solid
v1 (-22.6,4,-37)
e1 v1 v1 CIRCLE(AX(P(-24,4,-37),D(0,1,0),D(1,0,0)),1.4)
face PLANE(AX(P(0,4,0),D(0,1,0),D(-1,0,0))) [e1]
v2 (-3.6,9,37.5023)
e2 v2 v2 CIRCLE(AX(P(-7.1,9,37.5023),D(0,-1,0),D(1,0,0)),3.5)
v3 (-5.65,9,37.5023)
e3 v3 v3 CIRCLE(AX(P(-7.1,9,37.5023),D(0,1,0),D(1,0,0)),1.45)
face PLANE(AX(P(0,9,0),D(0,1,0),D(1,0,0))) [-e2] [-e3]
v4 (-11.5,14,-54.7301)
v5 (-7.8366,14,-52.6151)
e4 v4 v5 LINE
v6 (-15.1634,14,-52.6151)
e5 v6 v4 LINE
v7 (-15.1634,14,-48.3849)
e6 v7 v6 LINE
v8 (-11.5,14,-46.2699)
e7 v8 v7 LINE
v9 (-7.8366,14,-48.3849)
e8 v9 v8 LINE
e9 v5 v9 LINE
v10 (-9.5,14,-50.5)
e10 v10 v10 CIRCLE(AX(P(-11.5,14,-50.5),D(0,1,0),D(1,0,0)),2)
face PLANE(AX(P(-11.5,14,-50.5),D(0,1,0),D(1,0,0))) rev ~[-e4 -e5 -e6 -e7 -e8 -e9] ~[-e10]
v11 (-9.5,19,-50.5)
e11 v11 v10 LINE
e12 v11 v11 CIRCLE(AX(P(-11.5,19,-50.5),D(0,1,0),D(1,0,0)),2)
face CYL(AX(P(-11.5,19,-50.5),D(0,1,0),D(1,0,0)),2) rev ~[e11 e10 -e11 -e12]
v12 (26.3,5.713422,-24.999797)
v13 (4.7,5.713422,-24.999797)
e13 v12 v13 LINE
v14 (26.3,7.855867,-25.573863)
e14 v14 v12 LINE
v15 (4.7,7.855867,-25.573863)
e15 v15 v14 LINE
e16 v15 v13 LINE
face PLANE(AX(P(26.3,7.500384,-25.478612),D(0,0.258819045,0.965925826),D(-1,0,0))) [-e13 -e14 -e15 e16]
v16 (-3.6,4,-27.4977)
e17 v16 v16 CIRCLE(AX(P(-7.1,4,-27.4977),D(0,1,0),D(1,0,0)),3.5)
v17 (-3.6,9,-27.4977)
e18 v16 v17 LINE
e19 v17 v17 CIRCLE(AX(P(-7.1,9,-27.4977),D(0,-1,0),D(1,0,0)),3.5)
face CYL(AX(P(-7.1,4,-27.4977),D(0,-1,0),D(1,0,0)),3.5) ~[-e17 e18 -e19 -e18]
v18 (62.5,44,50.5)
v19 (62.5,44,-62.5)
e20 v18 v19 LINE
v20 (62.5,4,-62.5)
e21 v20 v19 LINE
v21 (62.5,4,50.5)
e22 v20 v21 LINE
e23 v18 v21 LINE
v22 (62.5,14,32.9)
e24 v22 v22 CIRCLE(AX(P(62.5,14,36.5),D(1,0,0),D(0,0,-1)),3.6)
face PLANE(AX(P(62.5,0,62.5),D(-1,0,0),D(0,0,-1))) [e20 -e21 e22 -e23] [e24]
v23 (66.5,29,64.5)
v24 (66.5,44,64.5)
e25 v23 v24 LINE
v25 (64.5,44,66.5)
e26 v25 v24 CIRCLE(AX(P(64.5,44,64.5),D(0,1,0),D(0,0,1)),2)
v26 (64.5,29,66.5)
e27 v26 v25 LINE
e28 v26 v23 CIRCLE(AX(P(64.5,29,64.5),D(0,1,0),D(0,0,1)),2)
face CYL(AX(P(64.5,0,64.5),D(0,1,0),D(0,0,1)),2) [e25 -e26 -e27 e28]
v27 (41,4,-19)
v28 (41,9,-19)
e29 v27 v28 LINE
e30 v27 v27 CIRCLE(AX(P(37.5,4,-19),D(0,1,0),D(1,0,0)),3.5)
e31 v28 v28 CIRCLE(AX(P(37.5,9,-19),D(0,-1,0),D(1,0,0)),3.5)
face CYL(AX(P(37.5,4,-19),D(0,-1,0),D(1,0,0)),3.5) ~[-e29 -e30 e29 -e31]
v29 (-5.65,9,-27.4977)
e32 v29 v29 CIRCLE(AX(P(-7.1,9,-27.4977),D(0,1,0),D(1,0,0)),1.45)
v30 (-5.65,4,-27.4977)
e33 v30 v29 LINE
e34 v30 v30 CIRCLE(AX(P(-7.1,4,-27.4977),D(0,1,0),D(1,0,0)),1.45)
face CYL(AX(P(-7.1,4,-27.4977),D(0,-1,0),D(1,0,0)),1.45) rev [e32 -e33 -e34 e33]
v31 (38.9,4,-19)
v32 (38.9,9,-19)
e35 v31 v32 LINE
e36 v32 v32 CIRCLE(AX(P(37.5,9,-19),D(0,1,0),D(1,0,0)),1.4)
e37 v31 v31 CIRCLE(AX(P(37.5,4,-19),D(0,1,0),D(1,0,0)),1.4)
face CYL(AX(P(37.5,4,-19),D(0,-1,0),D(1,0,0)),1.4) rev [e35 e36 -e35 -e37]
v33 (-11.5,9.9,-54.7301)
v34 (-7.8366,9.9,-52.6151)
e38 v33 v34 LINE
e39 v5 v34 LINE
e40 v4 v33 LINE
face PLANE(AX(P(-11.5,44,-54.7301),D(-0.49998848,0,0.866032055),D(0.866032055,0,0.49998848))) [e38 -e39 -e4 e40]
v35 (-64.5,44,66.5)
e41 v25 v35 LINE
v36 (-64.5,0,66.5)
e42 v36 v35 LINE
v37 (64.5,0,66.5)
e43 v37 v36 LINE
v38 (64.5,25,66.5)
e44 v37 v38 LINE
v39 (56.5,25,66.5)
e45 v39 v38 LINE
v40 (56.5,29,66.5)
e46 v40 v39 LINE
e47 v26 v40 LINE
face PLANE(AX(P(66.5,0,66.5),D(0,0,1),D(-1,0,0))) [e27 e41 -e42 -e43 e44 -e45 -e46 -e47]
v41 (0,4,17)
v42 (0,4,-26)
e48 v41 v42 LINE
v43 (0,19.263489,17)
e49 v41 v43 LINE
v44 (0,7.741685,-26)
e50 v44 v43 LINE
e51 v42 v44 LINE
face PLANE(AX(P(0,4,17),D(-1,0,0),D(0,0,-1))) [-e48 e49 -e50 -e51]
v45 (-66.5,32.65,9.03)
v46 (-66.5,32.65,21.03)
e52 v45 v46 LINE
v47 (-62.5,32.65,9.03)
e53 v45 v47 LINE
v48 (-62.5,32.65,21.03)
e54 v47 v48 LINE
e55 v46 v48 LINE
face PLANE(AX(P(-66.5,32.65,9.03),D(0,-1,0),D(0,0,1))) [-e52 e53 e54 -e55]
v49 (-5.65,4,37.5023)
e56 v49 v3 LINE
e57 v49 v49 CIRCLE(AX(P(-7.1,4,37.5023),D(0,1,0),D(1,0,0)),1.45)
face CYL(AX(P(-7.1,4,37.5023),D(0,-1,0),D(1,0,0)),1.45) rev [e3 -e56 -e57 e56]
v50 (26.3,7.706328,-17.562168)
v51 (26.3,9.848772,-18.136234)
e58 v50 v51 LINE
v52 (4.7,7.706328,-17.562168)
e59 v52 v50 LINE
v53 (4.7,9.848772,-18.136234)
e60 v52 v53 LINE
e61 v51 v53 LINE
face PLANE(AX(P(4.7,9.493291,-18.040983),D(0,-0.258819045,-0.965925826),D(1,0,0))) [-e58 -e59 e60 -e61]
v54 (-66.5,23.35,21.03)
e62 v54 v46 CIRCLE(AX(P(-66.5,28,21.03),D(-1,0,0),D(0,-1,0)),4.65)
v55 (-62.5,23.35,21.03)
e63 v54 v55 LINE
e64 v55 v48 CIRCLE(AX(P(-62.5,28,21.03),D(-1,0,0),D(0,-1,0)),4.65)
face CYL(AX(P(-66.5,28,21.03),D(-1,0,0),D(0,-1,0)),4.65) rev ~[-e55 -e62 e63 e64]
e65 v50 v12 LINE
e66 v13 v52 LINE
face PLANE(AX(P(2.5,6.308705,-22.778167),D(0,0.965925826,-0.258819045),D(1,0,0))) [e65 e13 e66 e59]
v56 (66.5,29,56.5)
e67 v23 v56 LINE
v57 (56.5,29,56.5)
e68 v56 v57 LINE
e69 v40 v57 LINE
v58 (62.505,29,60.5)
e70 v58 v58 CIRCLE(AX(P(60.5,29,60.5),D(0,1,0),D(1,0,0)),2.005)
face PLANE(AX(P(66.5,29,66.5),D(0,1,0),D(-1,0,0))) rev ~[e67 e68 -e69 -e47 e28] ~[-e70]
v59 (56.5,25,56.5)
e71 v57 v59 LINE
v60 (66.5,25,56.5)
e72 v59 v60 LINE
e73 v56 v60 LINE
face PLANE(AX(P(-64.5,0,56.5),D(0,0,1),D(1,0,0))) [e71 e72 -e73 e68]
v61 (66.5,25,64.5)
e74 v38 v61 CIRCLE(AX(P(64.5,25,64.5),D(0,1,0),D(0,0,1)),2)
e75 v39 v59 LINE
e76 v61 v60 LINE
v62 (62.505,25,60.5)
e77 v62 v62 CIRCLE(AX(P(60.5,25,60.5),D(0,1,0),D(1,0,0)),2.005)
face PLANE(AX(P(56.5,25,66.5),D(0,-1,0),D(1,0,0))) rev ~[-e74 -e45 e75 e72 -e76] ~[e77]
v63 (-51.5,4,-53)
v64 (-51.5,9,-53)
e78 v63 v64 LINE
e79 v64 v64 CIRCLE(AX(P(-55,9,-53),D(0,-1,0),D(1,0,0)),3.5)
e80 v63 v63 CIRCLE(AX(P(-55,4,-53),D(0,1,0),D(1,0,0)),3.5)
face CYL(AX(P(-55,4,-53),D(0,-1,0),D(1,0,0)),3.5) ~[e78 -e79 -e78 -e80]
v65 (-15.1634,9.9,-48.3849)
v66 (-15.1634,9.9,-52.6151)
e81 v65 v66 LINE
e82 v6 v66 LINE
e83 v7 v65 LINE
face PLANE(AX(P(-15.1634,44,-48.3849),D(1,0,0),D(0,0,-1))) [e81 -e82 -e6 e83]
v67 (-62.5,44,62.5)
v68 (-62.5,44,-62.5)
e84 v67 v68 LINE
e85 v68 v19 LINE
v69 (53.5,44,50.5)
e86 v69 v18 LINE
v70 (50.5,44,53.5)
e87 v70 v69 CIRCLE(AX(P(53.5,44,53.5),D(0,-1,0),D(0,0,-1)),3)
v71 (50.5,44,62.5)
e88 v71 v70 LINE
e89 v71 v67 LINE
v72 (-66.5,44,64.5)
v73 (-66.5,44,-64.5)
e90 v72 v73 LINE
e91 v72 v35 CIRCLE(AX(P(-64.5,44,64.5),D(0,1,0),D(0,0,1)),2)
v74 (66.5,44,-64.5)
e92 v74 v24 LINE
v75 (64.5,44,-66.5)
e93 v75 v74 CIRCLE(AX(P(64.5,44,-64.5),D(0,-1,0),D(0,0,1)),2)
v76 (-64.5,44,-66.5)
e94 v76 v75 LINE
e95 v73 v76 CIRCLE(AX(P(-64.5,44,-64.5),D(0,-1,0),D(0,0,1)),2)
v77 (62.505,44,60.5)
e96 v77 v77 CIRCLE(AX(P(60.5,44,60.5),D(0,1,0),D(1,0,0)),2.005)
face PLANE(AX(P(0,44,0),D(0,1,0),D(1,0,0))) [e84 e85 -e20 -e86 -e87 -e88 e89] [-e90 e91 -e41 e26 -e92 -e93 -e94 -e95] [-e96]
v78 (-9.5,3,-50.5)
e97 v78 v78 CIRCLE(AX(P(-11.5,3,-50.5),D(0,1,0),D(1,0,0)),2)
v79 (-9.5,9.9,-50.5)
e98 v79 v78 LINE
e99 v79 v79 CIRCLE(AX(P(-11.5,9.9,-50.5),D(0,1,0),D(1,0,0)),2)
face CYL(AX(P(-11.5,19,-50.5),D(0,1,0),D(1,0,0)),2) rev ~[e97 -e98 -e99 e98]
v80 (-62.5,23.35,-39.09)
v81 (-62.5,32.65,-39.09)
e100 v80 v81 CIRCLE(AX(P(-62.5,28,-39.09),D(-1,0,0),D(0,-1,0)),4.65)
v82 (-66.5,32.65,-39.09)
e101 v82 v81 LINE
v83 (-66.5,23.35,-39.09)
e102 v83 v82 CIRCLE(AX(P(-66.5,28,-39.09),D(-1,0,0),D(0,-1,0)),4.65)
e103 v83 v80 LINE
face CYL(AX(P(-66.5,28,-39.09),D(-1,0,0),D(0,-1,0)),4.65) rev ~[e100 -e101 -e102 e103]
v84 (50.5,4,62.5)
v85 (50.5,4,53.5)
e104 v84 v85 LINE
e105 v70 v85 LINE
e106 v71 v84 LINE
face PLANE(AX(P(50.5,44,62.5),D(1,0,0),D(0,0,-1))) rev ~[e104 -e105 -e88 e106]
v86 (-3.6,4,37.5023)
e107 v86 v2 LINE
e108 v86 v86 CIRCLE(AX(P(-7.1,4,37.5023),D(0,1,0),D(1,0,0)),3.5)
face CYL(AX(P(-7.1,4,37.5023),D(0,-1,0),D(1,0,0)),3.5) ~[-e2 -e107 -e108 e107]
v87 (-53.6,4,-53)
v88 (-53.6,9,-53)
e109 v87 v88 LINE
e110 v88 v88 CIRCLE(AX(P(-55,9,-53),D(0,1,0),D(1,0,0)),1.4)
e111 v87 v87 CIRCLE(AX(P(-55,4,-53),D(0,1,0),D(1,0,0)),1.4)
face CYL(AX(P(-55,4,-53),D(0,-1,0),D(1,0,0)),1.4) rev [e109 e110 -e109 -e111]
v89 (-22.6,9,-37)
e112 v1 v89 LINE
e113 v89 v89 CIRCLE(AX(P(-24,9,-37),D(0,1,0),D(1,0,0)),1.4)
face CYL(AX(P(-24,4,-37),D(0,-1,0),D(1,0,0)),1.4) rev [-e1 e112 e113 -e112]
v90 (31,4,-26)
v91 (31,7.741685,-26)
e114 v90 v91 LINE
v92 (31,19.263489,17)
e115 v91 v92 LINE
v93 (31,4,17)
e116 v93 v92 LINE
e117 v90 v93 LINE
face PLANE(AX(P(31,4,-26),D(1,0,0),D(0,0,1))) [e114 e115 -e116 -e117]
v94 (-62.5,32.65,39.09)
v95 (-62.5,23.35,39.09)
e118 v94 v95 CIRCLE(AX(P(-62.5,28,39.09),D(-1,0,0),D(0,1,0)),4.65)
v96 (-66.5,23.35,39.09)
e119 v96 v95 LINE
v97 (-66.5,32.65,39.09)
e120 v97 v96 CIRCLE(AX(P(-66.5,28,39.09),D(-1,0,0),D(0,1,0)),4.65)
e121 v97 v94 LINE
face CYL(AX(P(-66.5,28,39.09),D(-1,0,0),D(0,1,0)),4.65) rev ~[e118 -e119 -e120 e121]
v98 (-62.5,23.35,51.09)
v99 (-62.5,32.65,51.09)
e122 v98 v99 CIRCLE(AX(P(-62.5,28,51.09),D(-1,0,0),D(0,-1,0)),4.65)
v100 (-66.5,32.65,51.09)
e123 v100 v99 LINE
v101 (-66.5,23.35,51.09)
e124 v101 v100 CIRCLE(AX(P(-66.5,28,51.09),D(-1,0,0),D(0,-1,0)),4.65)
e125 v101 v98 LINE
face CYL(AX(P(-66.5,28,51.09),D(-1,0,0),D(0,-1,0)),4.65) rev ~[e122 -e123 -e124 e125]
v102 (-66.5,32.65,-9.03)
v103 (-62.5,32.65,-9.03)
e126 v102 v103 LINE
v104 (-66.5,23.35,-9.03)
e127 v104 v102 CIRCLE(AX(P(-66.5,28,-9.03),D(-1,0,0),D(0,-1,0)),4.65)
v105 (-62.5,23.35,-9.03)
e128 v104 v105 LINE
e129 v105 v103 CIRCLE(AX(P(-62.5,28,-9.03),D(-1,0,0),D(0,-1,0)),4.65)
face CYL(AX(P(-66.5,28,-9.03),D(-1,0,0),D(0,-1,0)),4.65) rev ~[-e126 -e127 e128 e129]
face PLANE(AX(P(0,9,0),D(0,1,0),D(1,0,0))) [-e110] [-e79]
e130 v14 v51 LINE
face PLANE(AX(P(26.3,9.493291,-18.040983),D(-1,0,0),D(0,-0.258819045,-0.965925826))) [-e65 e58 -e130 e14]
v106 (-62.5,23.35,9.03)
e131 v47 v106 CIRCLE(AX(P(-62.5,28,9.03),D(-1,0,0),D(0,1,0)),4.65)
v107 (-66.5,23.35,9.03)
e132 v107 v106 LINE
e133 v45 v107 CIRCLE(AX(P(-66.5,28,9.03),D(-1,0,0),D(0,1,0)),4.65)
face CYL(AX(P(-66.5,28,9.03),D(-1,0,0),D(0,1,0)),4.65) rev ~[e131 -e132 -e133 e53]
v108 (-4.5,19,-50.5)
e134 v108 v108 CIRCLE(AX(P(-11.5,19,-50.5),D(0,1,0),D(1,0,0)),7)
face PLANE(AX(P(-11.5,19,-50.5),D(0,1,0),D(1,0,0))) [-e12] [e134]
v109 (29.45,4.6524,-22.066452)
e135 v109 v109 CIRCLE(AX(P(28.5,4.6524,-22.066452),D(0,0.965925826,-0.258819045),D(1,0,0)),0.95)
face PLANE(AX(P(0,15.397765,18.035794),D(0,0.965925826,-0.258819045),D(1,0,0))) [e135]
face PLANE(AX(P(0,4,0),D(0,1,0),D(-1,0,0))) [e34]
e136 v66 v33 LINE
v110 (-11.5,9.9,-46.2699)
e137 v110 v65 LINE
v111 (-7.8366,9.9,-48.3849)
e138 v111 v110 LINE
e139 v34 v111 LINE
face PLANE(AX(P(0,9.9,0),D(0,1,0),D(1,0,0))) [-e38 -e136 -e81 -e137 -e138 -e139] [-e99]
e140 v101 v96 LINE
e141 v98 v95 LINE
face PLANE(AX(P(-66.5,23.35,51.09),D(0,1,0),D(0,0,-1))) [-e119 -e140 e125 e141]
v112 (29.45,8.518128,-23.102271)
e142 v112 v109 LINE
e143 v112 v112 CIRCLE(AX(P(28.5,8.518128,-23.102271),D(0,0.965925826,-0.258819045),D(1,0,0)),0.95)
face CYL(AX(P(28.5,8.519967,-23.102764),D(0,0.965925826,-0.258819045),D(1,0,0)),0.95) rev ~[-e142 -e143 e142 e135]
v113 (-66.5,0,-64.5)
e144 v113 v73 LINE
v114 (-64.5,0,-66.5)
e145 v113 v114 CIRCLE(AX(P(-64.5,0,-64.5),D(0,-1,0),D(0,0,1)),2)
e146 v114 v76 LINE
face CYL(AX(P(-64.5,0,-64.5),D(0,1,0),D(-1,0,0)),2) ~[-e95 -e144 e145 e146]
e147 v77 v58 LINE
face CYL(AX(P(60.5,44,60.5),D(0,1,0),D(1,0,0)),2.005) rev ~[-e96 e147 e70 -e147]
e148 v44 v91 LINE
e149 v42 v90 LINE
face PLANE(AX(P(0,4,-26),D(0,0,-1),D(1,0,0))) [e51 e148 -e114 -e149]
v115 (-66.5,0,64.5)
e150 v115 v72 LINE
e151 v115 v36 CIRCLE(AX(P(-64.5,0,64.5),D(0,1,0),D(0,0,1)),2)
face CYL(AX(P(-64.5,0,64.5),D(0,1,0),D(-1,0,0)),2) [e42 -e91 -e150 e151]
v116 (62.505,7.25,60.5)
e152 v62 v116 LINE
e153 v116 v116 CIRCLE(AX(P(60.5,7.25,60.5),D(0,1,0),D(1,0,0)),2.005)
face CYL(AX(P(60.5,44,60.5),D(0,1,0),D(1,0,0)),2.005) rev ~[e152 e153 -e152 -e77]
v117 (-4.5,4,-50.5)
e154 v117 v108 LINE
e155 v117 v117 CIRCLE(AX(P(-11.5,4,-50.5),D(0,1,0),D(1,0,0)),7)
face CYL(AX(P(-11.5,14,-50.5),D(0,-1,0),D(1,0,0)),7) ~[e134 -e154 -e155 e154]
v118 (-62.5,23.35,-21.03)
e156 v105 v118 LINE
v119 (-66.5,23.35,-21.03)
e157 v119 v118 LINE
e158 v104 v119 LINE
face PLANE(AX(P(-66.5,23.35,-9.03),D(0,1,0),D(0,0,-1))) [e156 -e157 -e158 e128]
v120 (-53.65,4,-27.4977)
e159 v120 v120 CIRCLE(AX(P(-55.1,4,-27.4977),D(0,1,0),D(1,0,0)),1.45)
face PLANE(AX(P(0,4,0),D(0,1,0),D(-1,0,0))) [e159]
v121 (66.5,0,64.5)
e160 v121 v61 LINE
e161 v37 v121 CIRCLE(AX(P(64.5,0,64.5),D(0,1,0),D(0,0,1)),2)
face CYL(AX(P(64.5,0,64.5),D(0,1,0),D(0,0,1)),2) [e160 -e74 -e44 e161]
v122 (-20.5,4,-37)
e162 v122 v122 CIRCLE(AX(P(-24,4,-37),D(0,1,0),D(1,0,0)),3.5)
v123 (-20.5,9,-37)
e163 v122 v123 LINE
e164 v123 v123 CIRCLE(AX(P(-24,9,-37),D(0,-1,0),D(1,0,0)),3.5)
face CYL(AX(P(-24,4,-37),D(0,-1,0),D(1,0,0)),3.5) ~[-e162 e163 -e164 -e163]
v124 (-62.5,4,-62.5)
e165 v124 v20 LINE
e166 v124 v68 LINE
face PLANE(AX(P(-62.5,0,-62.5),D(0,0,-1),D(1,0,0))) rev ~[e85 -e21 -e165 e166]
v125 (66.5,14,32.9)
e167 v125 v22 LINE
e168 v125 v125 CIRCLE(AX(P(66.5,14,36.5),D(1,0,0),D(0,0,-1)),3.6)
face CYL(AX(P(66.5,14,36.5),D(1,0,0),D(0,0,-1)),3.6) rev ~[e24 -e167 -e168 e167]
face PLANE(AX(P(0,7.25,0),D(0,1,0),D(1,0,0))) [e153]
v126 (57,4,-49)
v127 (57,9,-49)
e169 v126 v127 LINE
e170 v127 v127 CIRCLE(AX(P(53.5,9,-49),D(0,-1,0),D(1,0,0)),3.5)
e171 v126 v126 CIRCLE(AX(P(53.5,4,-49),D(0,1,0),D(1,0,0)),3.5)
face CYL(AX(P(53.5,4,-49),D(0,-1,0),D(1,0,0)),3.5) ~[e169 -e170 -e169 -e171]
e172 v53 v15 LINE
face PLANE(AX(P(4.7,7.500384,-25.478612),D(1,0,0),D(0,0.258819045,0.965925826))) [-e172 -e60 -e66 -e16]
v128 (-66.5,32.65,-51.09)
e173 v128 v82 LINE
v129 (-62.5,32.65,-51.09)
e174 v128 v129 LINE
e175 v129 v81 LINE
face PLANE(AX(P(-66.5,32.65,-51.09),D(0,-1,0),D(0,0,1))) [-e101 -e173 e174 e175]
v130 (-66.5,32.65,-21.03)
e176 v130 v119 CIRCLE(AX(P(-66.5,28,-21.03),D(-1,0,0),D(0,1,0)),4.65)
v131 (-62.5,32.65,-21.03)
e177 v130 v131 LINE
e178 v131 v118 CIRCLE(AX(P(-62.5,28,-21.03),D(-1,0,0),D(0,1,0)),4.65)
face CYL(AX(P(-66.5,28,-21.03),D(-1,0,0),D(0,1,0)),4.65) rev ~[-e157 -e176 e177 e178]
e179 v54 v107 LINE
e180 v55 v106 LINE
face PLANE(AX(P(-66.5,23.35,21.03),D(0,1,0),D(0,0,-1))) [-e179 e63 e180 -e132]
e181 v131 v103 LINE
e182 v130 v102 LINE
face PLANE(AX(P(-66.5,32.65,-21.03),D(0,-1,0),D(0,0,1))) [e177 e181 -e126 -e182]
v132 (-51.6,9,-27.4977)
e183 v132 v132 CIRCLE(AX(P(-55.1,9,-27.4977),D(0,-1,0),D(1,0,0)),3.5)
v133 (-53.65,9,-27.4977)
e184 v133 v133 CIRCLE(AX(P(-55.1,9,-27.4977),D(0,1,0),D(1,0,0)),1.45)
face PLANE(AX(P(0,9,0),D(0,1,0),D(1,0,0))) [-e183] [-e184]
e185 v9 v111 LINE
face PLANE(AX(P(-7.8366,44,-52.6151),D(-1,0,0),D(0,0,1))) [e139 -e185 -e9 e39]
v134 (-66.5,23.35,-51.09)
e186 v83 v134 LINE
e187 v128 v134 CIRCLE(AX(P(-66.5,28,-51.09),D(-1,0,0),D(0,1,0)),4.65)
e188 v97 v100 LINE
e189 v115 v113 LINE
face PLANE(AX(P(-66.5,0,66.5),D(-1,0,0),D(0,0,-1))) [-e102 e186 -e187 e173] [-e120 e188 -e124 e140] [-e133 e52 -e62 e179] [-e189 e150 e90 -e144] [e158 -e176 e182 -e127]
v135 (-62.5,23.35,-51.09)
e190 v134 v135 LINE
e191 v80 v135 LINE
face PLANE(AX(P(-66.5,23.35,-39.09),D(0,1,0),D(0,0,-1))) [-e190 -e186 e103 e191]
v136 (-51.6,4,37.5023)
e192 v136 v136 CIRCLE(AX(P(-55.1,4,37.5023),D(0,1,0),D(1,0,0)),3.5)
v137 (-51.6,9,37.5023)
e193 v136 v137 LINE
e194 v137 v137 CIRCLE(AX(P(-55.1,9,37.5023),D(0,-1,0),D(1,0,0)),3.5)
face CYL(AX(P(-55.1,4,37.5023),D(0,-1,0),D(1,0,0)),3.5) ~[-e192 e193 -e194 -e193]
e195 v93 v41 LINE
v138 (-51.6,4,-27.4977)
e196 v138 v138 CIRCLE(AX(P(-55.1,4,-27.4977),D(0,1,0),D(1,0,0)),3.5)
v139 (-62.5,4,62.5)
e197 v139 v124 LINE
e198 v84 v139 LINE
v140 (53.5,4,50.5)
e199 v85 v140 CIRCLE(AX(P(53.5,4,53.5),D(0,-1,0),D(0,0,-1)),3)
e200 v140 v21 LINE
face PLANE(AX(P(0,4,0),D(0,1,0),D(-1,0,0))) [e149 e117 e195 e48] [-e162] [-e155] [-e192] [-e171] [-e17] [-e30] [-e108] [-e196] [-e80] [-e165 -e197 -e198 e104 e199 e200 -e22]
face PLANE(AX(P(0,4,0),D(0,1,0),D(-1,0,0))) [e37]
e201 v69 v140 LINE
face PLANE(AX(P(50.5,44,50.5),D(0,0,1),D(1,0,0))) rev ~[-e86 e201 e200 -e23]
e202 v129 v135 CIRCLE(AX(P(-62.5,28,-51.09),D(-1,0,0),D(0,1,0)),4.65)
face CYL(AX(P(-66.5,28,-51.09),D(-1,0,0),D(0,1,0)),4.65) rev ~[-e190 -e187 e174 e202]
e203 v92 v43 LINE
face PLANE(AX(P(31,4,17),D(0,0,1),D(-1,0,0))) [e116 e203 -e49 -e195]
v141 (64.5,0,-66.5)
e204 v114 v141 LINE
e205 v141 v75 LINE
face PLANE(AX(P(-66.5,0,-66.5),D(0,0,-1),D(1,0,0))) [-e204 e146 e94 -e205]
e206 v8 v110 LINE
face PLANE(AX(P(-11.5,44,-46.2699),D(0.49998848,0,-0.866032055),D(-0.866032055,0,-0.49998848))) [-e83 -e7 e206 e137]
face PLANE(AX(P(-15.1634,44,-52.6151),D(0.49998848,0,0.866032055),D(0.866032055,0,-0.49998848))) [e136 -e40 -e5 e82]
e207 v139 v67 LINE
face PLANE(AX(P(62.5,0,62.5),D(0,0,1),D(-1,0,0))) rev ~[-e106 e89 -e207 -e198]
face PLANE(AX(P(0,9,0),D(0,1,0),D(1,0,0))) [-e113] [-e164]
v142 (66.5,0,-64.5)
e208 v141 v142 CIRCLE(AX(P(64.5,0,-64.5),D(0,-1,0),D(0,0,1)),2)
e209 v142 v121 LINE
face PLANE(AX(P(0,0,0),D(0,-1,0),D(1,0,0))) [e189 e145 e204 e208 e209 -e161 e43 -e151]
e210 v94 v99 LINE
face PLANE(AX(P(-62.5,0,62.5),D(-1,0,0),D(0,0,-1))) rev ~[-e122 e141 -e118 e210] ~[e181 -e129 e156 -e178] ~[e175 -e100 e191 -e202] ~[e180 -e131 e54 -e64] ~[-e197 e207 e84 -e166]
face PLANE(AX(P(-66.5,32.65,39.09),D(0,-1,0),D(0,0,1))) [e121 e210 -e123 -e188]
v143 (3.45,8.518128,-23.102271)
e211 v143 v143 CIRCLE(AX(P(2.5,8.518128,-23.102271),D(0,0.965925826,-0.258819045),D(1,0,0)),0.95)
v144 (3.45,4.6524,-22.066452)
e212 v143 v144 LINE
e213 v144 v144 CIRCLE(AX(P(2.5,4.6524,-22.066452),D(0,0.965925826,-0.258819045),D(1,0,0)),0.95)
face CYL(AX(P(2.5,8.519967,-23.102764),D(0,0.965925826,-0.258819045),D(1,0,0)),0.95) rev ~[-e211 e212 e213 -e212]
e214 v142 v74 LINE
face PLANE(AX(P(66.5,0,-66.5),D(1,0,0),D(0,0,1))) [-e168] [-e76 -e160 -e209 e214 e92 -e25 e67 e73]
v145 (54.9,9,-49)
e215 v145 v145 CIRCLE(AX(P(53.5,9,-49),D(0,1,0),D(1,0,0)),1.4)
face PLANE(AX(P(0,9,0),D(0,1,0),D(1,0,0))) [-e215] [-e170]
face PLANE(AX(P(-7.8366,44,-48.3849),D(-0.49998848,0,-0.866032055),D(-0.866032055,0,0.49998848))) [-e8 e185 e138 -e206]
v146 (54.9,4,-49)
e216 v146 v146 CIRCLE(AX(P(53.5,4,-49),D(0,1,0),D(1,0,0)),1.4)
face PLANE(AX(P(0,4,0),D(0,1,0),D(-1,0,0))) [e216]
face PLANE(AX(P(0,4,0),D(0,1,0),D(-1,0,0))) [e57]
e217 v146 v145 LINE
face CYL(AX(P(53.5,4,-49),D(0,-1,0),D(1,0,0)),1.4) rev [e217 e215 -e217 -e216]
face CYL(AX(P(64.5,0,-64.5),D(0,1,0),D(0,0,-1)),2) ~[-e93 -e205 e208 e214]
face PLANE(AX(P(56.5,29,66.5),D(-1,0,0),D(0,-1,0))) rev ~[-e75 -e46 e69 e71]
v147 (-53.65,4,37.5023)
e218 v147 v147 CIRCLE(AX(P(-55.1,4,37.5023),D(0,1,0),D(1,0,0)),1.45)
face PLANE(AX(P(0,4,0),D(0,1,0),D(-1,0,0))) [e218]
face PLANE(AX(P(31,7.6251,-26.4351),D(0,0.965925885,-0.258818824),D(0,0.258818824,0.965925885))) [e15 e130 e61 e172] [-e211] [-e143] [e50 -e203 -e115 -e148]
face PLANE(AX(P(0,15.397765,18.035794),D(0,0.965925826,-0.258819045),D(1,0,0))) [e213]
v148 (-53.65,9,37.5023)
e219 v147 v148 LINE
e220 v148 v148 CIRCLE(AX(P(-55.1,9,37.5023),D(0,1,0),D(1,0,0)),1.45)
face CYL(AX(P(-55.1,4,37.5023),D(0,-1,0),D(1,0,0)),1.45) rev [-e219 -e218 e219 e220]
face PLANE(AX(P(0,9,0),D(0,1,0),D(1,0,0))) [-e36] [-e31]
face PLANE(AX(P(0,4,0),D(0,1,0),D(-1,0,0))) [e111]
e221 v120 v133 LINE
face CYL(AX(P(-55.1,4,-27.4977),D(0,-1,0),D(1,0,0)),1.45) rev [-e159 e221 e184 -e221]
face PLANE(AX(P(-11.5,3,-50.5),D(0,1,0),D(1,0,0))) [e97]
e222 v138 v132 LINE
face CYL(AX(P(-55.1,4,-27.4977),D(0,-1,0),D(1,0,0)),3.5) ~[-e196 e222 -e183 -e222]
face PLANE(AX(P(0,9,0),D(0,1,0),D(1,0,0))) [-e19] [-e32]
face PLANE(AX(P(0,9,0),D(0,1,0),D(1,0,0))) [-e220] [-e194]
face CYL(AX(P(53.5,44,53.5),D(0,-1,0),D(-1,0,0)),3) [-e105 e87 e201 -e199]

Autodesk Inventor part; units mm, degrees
ref_plane "YZ Plane" through (0, 0, 0) normal (1, 0, 0) x (0, 1, 0)
ref_plane "XZ Plane" through (0, 0, 0) normal (0, 1, 0) x (-1, 0, 0)
ref_plane "XY Plane" through (0, 0, 0) normal (0, 0, 1) x (1, 0, 0)
sketch "Esboço1" plane through (0, 0, 0) normal (0, 1, 0) x (-1, 0, 0)
  line L0 (-62.5, 62.5) -> (62.5, 62.5)
  line L1 (62.5, 62.5) -> (62.5, -62.5)
  line L2 (62.5, -62.5) -> (-62.5, -62.5)
  line L3 (-62.5, -62.5) -> (-62.5, 62.5)
  line L4 (-62.5, 62.5) -> (62.5, -62.5) construction
  line L5 (62.5, 62.5) -> (-62.5, -62.5) construction
  point P0 (0, 0)
  dimension "d0" = 125
  dimension "d1" = 125
extrude "Extrusão1" add sketch "Esboço1" along normal blind 4
sketch "Esboço2" plane through (0, 4, 0) normal (0, 1, 0) x (1, 0, 0)
  line L0 (-57.5, 55.5) -> (-21.5, 55.5)
  line L1 (-21.5, 55.5) -> (-21.5, 34.5)
  line L2 (-21.5, 34.5) -> (-57.5, 34.5)
  line L3 (-57.5, 34.5) -> (-57.5, 55.5)
  line L4 (62.5, 62.5) -> (-62.5, 62.5) projected
  line L5 (-62.5, 62.5) -> (-62.5, -62.5) projected
  circle A0 centre (-55, 53) radius 1.4
  circle A1 centre (-24, 37) radius 1.4
  circle A2 centre (-55, 53) radius 3.5
  circle A3 centre (-24, 37) radius 3.5
  line L6 (-57.6, 29.9977) -> (-4.6, 29.9977)
  line L7 (-4.6, 29.9977) -> (-4.6, -40.0023)
  line L8 (-4.6, -40.0023) -> (-57.6, -40.0023)
  line L9 (-57.6, -40.0023) -> (-57.6, 29.9977)
  circle A4 centre (-55.1, 27.4977) radius 1.45
  circle A5 centre (-55.1, -37.5023) radius 1.45
  circle A6 centre (-7.1, -37.5023) radius 1.45
  circle A7 centre (-7.1, 27.4977) radius 1.45
  circle A8 centre (-55.1, 27.4977) radius 3.5
  circle A9 centre (-7.1, 27.4977) radius 3.5
  circle A10 centre (-7.1, -37.5023) radius 3.5
  circle A11 centre (-55.1, -37.5023) radius 3.5
  line L10 (-1, 31) -> (27, 59) construction
  line L11 (27, 31) -> (-1, 59) construction
  line L12 (56, 55.5) -> (35, 55.5)
  line L13 (35, 55.5) -> (35, 12.5)
  line L14 (35, 12.5) -> (56, 12.5)
  line L15 (56, 12.5) -> (56, 55.5)
  circle A12 centre (53.5, 49) radius 1.4
  circle A13 centre (37.5, 19) radius 1.4
  line L16 (62.5, -62.5) -> (62.5, 62.5) projected
  circle A14 centre (53.5, 49) radius 3.5
  circle A15 centre (37.5, 19) radius 3.5
  line L17 (-62.5, -62.5) -> (62.5, -62.5) projected
  circle A16 centre (-11.5, 50.5) radius 2
  circle A17 centre (-11.5, 50.5) radius 3.5
  line L18 (-11.5, 54.6208) -> (-7.9313, 52.5604)
  line L19 (-7.9313, 52.5604) -> (-7.9313, 48.4396)
  line L20 (-7.9313, 48.4396) -> (-11.5, 46.3792)
  line L21 (-11.5, 46.3792) -> (-15.0687, 48.4396)
  line L22 (-15.0687, 48.4396) -> (-15.0687, 52.5604)
  line L23 (-15.0687, 52.5604) -> (-11.5, 54.6208)
  point P0 (0, 0)
  point P1 (13, 45)
  dimension "d7" = 5
  dimension "d9" = 2.8
  dimension "d10" = 2.5
  dimension "d11" = 2.5
  dimension "d12" = 2.5
  dimension "d13" = 2.5
  dimension "d14" = 7
  dimension "d15" = 7
  dimension "d16" = 53
  dimension "d17" = 70
  dimension "d18" = 2.9
  dimension "d19" = 2.9
  dimension "d20" = 2.9
  dimension "d21" = 2.9
  dimension "d22" = 48
  dimension "d23" = 2.5
  dimension "d25" = 48
  dimension "d26" = 2.5
  dimension "d27" = 65
  dimension "d28" = 2.5
  dimension "d29" = 7
  dimension "d30" = 7
  dimension "d31" = 7
  dimension "d32" = 7
  dimension "d39" = 21
  dimension "d40" = 43
  dimension "d41" = 2.8
  dimension "d42" = 2.8
  dimension "d43" = 7
  dimension "d44" = 6.5
  dimension "d45" = 6.5
  dimension "d46" = 2.5
  dimension "d47" = 6.5
  dimension "d48" = 2.5
  dimension "d49" = 7
  dimension "d50" = 7
  dimension "d51" = 2.8
  dimension "d57" = 36
  dimension "d58" = 21
  dimension "d83" = 22.4977
  dimension "d160" = 4
  dimension "d161" = 12
  dimension "d162" = 51
  dimension "d163" = 7
extrude "Extrusão2" add sketch "Esboço2" along normal blind 5 contours A2 L0 | L0 A2 L3 | L3 A2 | A3 L1 | L1 A3 L2 | L2 A3 | A8 L6 | L6 A8 L9 | L9 A8 | A9 L6 | L6 A9 L7 | A11 L8 L9 | L9 A11 | L7 A9 | A10 L7 | L7 A10 L8 | L8 A11 | L8 A10 | A14 L15 | L15 A14 | A15 L13 | L13 A15 picked at (-55.0563, 55.1299) picked at (-24.0563, 34.8701) picked at (-55.1583, 29.6442) picked at (-7.1583, 29.6442) picked at (-55.1583, -39.6488) picked at (-7.1583, -39.6488)
sketch "Esboço5" plane through (0, 9, 0) normal (0, 1, 0) x (1, 0, 0)
  circle A0 centre (29.5, 45) radius 1.45
  line L0 (29.5, 50) -> (27, 50) projected
  line L1 (25.5, 57.5) -> (25.5, 32.5) projected
  point P0 (0, 0)
  dimension "d70" = 2.9
  dimension "d71" = 5
  dimension "d72" = 4
extrude "Extrusão5" cut sketch "Esboço5" against normal blind 5
sketch "Esboço6" plane through (0, 4, 0) normal (0, 1, 0) x (1, 0, 0)
  line L0 (0, 26) -> (31, 26)
  line L1 (31, 26) -> (31, -17)
  line L2 (31, -17) -> (0, -17)
  line L3 (0, -17) -> (0, 26)
  line L4 (0, -17) -> (31, -17)
  line L5 (-1, 31) -> (27, 31) projected
  line L6 (-57.5, -40.0023) -> (-4.5, -40.0023)
  line L7 (-4.5, -40.0023) -> (-4.5, 29.9977)
  line L8 (-4.5, 29.9977) -> (-57.5, 29.9977)
  line L9 (-57.5, 29.9977) -> (-57.5, -40.0023)
  line L10 (-62.5, 62.5) -> (-62.5, -62.5) projected
  line L11 (-62.5, -62.5) -> (62.5, -62.5) projected
  line L12 (56, 12.5) -> (35, 12.5)
  line L13 (35, 12.5) -> (35, 55.5)
  line L14 (35, 55.5) -> (56, 55.5)
  line L15 (56, 55.5) -> (56, 12.5)
  line L16 (62.5, 62.5) -> (-62.5, 62.5) projected
  line L17 (62.5, -62.5) -> (62.5, 62.5) projected
  point P0 (0, 0)
  dimension "d76" = 43
  dimension "d78" = 5
  dimension "d79" = 53
  dimension "d80" = 70
  dimension "d81" = 5
  dimension "d82" = 22.4977
  dimension "d84" = 21
  dimension "d85" = 43
  dimension "d86" = 7
  dimension "d87" = 6.5
  dimension "d88" = 4.5
extrude "Extrusão6" add sketch "Esboço6" along normal blind 24 contours L0 L1 L2 L3
sketch "Esboço7" plane through (31, 4, 17) normal (1, 0, 0) x (0, 0, -1)
  line L0 (43.4351, 3.6251) -> (-38.6686, 25.6247)
  line L1 (-45.5, 0) -> (79.5, 0) projected
  line L2 (43.4351, 3.6251) -> (43.4351, 27.2402)
  line L3 (43.4351, 27.2402) -> (-38.6686, 25.6247)
  point P0 (17, -4)
  dimension "d92" = 85
  dimension "d93" = 15
extrude "Extrusão7" cut sketch "Esboço7" against normal blind 31
sketch "Esboço8" plane through (0, 19.2634, 17) normal (0, 0.9659, -0.2588) x (1, 0, 0)
  circle A0 centre (2.5, 41.5169) radius 0.95
  circle A1 centre (28.5, 41.5169) radius 0.95
  line L0 (0, 44.5169) -> (31, 44.5169) projected
  line L1 (0, 0) -> (0, 44.5169) projected
  line L2 (31, 44.5169) -> (31, 0) projected
  point P0 (0, 21.4065)
  dimension "d96" = 1.9
  dimension "d97" = 1.9
  dimension "d98" = 3
  dimension "d99" = 2.5
  dimension "d100" = 3
  dimension "d101" = 2.5
extrude "Extrusão8" cut sketch "Esboço8" against normal blind 4
ref_plane "Plano de trabalho2" through (2.5, 8.0976, -23.2575) normal (0, 0.9659, -0.2588) x (1, 0, 0)
sketch "Esboço10" plane through (2.5, 8.0976, -23.2575) normal (0, 0.9659, -0.2588) x (1, 0, 0)
  line L0 (2.2, -5.4) -> (23.8, -5.4)
  line L1 (23.8, -5.4) -> (23.8, 2.3)
  line L2 (23.8, 2.3) -> (2.2, 2.3)
  line L3 (2.2, 2.3) -> (2.2, -5.4)
  line L4 (-2.5, -41.5169) -> (-2.5, 3) projected
  line L5 (28.5, 3) -> (28.5, -41.5169) projected
  line L6 (-2.5, 3) -> (28.5, 3) projected
  point P0 (-2.5, -20.3692)
  dimension "d108" = 4.7
  dimension "d109" = 4.7
  dimension "d110" = 0.7
  dimension "d111" = 7.7
extrude "Extrusão10" cut sketch "Esboço10" along normal mid plane 3.7
sketch "Esboço11" plane through (0, 0, 0) normal (0, -1, 0) x (1, 0, 0)
  line L0 (-66.5, -66.5) -> (66.5, -66.5)
  line L1 (66.5, -66.5) -> (66.5, 66.5)
  line L2 (66.5, 66.5) -> (-66.5, 66.5)
  line L3 (-66.5, 66.5) -> (-66.5, -66.5)
  line L4 (-66.5, -66.5) -> (66.5, 66.5) construction
  line L5 (66.5, -66.5) -> (-66.5, 66.5) construction
  line L6 (62.5, 62.5) -> (62.5, -62.5) projected
  line L7 (-62.5, -62.5) -> (62.5, -62.5)
  line L8 (62.5, -62.5) -> (62.5, 62.5)
  line L9 (62.5, 62.5) -> (-62.5, 62.5)
  line L10 (-62.5, 62.5) -> (-62.5, -62.5)
  line L11 (-62.5, -62.5) -> (62.5, 62.5) construction
  line L12 (62.5, -62.5) -> (-62.5, 62.5) construction
  point P0 (0, 0)
  dimension "d114" = 133
  dimension "d115" = 133
extrude "Extrusão11" add sketch "Esboço11" against normal blind 44
fillet "Arredondamento2" radius 2 4 edges at (-66.5, 22, 66.5) (66.5, 22, 66.5) (66.5, 22, -66.5) (-66.5, 22, -66.5)
sketch "Esboço13" plane through (-66.5, 0, -64.5) normal (-1, 0, 0) x (0, 0, 1)
  arc A0 (13.41, 32.65) -> (13.41, 23.35) centre (13.41, 28) ccw
  line L0 (0, 44) -> (129, 44) projected
  arc A1 (25.41, 23.35) -> (25.41, 32.65) centre (25.41, 28) ccw
  line L1 (13.41, 32.65) -> (25.41, 32.65)
  line L2 (25.41, 23.35) -> (13.41, 23.35)
  arc A2 (43.47, 32.65) -> (43.47, 23.35) centre (43.47, 28) ccw
  arc A3 (55.47, 23.35) -> (55.47, 32.65) centre (55.47, 28) ccw
  line L3 (43.47, 32.65) -> (55.47, 32.65)
  line L4 (55.47, 23.35) -> (43.47, 23.35)
  arc A4 (73.53, 32.65) -> (73.53, 23.35) centre (73.53, 28) ccw
  arc A5 (85.53, 23.35) -> (85.53, 32.65) centre (85.53, 28) ccw
  line L5 (73.53, 32.65) -> (85.53, 32.65)
  line L6 (85.53, 23.35) -> (73.53, 23.35)
  arc A6 (103.59, 32.65) -> (103.59, 23.35) centre (103.59, 28) ccw
  arc A7 (115.59, 23.35) -> (115.59, 32.65) centre (115.59, 28) ccw
  line L7 (103.59, 32.65) -> (115.59, 32.65)
  line L8 (115.59, 23.35) -> (103.59, 23.35)
  line L9 (131, 0) -> (131, 44) projected
  line L10 (-2, 44) -> (-2, 0) projected
  line L11 (129, 44) -> (129, 0) projected
  line L12 (0, 0) -> (0, 44) projected
  point P0 (64.5, 0)
  dimension "d131" = 9.3
  dimension "d132" = 16
  dimension "d133" = 9.3
  dimension "d134" = 12
  dimension "d135" = 9.3
  dimension "d136" = 9.3
  dimension "d137" = 12
  dimension "d138" = 9.3
  dimension "d139" = 9.3
  dimension "d140" = 12
  dimension "d141" = 9.3
  dimension "d142" = 9.3
  dimension "d143" = 12
  dimension "d145" = 16
  dimension "d146" = 16
  dimension "d147" = 16
  dimension "d150" = 13.41
  dimension "d151" = 18.06
  dimension "d152" = 18.06
  dimension "d153" = 18.06
extrude "Extrusão12" cut sketch "Esboço13" against normal blind 5
sketch "Esboço15" plane through (0, 44, 0) normal (0, 1, 0) x (1, 0, 0)
  circle A0 centre (-11.5, 50.5) radius 2
  line L0 (-62.5, 62.5) -> (62.5, 62.5) projected
  line L1 (-62.5, -62.5) -> (-62.5, 62.5) projected
  line L2 (-11.5, 54.7301) -> (-7.8366, 52.6151)
  line L3 (-7.8366, 52.6151) -> (-7.8366, 48.3849)
  line L4 (-7.8366, 48.3849) -> (-11.5, 46.2699)
  line L5 (-11.5, 46.2699) -> (-15.1634, 48.3849)
  line L6 (-15.1634, 48.3849) -> (-15.1634, 52.6151)
  line L7 (-15.1634, 52.6151) -> (-11.5, 54.7301)
  circle A1 centre (-11.5, 50.5) radius 7
  point P0 (0, 0)
  point P1 (56, 62.5)
  dimension "d164" = 4
  dimension "d165" = 12
  dimension "d166" = 51
  dimension "d168" = 14
extrude "Extrusão14" add sketch "Esboço15" against normal blind 40 contours A1
sketch "Esboço18" plane through (-62.5, 4, -62.5) normal (0, 0, 1) x (1, 0, 0)
  line L0 (125, 40) -> (0, 40) projected
  line L1 (43.5378, 40) -> (60.5378, 40)
  line L2 (60.5378, 40) -> (60.5378, 10)
  line L3 (60.5378, 10) -> (43.5378, 10)
  line L4 (43.5378, 10) -> (43.5378, 40)
  point P0 (62.5, -4)
  dimension "d179" = 30
  dimension "d182" = 17
extrude "Extrusão16" cut sketch "Esboço18" along normal blind 20.7
sketch "Esboço19" plane through (0, 4, 0) normal (0, 1, 0) x (1, 0, 0)
  line L0 (-11.5, 54.7301) -> (-7.8366, 52.6151)
  line L1 (-7.8366, 52.6151) -> (-7.8366, 48.3849)
  line L2 (-7.8366, 48.3849) -> (-11.5, 46.2699)
  line L3 (-11.5, 46.2699) -> (-15.1634, 48.3849)
  line L4 (-15.1634, 48.3849) -> (-15.1634, 52.6151)
  line L5 (-15.1634, 52.6151) -> (-11.5, 54.7301)
  point P0 (0, 0)
  point P1 (-11.5, 50.5)
extrude "Extrusão17" add sketch "Esboço19" along normal blind 5.9
sketch "Esboço20" plane through (-11.5, 14, -50.5) normal (0, 1, 0) x (1, 0, 0)
  circle A0 centre (0, 0) radius 7
  point P0 (11.5, -50.5)
extrude "Extrusão18" add sketch "Esboço20" along normal blind 5
sketch "Esboço21" plane through (-11.5, 19, -50.5) normal (0, 1, 0) x (1, 0, 0)
  circle A0 centre (0, 0) radius 2
  point P0 (11.5, -50.5)
  dimension "d187" = 4
extrude "Extrusão19" cut sketch "Esboço21" against normal blind 16
sketch "Esboço22" plane through (0, 44, 0) normal (0, 1, 0) x (1, 0, 0)
  line L0 (-62.5, -62.5) -> (62.5, -62.5) projected
  line L1 (62.5, -62.5) -> (50.5, -62.5)
  line L2 (50.5, -62.5) -> (50.5, -50.5)
  line L3 (50.5, -50.5) -> (62.5, -50.5)
  line L4 (62.5, -50.5) -> (62.5, -62.5)
  point P0 (0, 0)
  dimension "d192" = 12
  dimension "d193" = 12
extrude "Extrusão20" add sketch "Esboço22" against normal blind 40
fillet "Arredondamento3" radius 3 1 edges at (50.5, 24, 50.5)
sketch "Esboço24" plane through (-64.5, 0, 66.5) normal (0, 0, 1) x (1, 0, 0)
  line L0 (131, 44) -> (131, 0) projected
  line L1 (131, 29) -> (121, 29)
  line L2 (121, 29) -> (121, 25)
  line L3 (121, 25) -> (131, 25)
  line L4 (131, 25) -> (131, 29)
  line L5 (0, 44) -> (129, 44) projected
  point P0 (64.5, 0)
  dimension "d197" = 10
  dimension "d198" = 4
  dimension "d199" = 15
extrude "Extrusão21" cut sketch "Esboço24" against normal blind 10
sketch "Esboço25" plane through (0, 44, 0) normal (0, 1, 0) x (1, 0, 0)
  circle A0 centre (60.5, -60.5) radius 2.005
  line L0 (66.5, -64.5) -> (66.5, 64.5) projected
  line L1 (-64.5, -66.5) -> (64.5, -66.5) projected
  point P0 (0, 0)
  dimension "d202" = 4.01
  dimension "d203" = 6
  dimension "d204" = 6
extrude "Extrusão22" cut sketch "Esboço25" against normal blind 36.75
sketch "Esboço26" plane through (66.5, 0, 64.5) normal (1, 0, 0) x (0, 0, -1)
  circle A0 centre (28, 14) radius 3.6
  line L0 (129, 0) -> (0, 0) projected
  line L1 (-2, 25) -> (-2, 0) projected
  point P0 (64.5, 0)
  dimension "d207" = 7.2
  dimension "d208" = 14
  dimension "d209" = 30
extrude "Extrusão23" cut sketch "Esboço26" against normal blind 5
properties part number "Caixa"
